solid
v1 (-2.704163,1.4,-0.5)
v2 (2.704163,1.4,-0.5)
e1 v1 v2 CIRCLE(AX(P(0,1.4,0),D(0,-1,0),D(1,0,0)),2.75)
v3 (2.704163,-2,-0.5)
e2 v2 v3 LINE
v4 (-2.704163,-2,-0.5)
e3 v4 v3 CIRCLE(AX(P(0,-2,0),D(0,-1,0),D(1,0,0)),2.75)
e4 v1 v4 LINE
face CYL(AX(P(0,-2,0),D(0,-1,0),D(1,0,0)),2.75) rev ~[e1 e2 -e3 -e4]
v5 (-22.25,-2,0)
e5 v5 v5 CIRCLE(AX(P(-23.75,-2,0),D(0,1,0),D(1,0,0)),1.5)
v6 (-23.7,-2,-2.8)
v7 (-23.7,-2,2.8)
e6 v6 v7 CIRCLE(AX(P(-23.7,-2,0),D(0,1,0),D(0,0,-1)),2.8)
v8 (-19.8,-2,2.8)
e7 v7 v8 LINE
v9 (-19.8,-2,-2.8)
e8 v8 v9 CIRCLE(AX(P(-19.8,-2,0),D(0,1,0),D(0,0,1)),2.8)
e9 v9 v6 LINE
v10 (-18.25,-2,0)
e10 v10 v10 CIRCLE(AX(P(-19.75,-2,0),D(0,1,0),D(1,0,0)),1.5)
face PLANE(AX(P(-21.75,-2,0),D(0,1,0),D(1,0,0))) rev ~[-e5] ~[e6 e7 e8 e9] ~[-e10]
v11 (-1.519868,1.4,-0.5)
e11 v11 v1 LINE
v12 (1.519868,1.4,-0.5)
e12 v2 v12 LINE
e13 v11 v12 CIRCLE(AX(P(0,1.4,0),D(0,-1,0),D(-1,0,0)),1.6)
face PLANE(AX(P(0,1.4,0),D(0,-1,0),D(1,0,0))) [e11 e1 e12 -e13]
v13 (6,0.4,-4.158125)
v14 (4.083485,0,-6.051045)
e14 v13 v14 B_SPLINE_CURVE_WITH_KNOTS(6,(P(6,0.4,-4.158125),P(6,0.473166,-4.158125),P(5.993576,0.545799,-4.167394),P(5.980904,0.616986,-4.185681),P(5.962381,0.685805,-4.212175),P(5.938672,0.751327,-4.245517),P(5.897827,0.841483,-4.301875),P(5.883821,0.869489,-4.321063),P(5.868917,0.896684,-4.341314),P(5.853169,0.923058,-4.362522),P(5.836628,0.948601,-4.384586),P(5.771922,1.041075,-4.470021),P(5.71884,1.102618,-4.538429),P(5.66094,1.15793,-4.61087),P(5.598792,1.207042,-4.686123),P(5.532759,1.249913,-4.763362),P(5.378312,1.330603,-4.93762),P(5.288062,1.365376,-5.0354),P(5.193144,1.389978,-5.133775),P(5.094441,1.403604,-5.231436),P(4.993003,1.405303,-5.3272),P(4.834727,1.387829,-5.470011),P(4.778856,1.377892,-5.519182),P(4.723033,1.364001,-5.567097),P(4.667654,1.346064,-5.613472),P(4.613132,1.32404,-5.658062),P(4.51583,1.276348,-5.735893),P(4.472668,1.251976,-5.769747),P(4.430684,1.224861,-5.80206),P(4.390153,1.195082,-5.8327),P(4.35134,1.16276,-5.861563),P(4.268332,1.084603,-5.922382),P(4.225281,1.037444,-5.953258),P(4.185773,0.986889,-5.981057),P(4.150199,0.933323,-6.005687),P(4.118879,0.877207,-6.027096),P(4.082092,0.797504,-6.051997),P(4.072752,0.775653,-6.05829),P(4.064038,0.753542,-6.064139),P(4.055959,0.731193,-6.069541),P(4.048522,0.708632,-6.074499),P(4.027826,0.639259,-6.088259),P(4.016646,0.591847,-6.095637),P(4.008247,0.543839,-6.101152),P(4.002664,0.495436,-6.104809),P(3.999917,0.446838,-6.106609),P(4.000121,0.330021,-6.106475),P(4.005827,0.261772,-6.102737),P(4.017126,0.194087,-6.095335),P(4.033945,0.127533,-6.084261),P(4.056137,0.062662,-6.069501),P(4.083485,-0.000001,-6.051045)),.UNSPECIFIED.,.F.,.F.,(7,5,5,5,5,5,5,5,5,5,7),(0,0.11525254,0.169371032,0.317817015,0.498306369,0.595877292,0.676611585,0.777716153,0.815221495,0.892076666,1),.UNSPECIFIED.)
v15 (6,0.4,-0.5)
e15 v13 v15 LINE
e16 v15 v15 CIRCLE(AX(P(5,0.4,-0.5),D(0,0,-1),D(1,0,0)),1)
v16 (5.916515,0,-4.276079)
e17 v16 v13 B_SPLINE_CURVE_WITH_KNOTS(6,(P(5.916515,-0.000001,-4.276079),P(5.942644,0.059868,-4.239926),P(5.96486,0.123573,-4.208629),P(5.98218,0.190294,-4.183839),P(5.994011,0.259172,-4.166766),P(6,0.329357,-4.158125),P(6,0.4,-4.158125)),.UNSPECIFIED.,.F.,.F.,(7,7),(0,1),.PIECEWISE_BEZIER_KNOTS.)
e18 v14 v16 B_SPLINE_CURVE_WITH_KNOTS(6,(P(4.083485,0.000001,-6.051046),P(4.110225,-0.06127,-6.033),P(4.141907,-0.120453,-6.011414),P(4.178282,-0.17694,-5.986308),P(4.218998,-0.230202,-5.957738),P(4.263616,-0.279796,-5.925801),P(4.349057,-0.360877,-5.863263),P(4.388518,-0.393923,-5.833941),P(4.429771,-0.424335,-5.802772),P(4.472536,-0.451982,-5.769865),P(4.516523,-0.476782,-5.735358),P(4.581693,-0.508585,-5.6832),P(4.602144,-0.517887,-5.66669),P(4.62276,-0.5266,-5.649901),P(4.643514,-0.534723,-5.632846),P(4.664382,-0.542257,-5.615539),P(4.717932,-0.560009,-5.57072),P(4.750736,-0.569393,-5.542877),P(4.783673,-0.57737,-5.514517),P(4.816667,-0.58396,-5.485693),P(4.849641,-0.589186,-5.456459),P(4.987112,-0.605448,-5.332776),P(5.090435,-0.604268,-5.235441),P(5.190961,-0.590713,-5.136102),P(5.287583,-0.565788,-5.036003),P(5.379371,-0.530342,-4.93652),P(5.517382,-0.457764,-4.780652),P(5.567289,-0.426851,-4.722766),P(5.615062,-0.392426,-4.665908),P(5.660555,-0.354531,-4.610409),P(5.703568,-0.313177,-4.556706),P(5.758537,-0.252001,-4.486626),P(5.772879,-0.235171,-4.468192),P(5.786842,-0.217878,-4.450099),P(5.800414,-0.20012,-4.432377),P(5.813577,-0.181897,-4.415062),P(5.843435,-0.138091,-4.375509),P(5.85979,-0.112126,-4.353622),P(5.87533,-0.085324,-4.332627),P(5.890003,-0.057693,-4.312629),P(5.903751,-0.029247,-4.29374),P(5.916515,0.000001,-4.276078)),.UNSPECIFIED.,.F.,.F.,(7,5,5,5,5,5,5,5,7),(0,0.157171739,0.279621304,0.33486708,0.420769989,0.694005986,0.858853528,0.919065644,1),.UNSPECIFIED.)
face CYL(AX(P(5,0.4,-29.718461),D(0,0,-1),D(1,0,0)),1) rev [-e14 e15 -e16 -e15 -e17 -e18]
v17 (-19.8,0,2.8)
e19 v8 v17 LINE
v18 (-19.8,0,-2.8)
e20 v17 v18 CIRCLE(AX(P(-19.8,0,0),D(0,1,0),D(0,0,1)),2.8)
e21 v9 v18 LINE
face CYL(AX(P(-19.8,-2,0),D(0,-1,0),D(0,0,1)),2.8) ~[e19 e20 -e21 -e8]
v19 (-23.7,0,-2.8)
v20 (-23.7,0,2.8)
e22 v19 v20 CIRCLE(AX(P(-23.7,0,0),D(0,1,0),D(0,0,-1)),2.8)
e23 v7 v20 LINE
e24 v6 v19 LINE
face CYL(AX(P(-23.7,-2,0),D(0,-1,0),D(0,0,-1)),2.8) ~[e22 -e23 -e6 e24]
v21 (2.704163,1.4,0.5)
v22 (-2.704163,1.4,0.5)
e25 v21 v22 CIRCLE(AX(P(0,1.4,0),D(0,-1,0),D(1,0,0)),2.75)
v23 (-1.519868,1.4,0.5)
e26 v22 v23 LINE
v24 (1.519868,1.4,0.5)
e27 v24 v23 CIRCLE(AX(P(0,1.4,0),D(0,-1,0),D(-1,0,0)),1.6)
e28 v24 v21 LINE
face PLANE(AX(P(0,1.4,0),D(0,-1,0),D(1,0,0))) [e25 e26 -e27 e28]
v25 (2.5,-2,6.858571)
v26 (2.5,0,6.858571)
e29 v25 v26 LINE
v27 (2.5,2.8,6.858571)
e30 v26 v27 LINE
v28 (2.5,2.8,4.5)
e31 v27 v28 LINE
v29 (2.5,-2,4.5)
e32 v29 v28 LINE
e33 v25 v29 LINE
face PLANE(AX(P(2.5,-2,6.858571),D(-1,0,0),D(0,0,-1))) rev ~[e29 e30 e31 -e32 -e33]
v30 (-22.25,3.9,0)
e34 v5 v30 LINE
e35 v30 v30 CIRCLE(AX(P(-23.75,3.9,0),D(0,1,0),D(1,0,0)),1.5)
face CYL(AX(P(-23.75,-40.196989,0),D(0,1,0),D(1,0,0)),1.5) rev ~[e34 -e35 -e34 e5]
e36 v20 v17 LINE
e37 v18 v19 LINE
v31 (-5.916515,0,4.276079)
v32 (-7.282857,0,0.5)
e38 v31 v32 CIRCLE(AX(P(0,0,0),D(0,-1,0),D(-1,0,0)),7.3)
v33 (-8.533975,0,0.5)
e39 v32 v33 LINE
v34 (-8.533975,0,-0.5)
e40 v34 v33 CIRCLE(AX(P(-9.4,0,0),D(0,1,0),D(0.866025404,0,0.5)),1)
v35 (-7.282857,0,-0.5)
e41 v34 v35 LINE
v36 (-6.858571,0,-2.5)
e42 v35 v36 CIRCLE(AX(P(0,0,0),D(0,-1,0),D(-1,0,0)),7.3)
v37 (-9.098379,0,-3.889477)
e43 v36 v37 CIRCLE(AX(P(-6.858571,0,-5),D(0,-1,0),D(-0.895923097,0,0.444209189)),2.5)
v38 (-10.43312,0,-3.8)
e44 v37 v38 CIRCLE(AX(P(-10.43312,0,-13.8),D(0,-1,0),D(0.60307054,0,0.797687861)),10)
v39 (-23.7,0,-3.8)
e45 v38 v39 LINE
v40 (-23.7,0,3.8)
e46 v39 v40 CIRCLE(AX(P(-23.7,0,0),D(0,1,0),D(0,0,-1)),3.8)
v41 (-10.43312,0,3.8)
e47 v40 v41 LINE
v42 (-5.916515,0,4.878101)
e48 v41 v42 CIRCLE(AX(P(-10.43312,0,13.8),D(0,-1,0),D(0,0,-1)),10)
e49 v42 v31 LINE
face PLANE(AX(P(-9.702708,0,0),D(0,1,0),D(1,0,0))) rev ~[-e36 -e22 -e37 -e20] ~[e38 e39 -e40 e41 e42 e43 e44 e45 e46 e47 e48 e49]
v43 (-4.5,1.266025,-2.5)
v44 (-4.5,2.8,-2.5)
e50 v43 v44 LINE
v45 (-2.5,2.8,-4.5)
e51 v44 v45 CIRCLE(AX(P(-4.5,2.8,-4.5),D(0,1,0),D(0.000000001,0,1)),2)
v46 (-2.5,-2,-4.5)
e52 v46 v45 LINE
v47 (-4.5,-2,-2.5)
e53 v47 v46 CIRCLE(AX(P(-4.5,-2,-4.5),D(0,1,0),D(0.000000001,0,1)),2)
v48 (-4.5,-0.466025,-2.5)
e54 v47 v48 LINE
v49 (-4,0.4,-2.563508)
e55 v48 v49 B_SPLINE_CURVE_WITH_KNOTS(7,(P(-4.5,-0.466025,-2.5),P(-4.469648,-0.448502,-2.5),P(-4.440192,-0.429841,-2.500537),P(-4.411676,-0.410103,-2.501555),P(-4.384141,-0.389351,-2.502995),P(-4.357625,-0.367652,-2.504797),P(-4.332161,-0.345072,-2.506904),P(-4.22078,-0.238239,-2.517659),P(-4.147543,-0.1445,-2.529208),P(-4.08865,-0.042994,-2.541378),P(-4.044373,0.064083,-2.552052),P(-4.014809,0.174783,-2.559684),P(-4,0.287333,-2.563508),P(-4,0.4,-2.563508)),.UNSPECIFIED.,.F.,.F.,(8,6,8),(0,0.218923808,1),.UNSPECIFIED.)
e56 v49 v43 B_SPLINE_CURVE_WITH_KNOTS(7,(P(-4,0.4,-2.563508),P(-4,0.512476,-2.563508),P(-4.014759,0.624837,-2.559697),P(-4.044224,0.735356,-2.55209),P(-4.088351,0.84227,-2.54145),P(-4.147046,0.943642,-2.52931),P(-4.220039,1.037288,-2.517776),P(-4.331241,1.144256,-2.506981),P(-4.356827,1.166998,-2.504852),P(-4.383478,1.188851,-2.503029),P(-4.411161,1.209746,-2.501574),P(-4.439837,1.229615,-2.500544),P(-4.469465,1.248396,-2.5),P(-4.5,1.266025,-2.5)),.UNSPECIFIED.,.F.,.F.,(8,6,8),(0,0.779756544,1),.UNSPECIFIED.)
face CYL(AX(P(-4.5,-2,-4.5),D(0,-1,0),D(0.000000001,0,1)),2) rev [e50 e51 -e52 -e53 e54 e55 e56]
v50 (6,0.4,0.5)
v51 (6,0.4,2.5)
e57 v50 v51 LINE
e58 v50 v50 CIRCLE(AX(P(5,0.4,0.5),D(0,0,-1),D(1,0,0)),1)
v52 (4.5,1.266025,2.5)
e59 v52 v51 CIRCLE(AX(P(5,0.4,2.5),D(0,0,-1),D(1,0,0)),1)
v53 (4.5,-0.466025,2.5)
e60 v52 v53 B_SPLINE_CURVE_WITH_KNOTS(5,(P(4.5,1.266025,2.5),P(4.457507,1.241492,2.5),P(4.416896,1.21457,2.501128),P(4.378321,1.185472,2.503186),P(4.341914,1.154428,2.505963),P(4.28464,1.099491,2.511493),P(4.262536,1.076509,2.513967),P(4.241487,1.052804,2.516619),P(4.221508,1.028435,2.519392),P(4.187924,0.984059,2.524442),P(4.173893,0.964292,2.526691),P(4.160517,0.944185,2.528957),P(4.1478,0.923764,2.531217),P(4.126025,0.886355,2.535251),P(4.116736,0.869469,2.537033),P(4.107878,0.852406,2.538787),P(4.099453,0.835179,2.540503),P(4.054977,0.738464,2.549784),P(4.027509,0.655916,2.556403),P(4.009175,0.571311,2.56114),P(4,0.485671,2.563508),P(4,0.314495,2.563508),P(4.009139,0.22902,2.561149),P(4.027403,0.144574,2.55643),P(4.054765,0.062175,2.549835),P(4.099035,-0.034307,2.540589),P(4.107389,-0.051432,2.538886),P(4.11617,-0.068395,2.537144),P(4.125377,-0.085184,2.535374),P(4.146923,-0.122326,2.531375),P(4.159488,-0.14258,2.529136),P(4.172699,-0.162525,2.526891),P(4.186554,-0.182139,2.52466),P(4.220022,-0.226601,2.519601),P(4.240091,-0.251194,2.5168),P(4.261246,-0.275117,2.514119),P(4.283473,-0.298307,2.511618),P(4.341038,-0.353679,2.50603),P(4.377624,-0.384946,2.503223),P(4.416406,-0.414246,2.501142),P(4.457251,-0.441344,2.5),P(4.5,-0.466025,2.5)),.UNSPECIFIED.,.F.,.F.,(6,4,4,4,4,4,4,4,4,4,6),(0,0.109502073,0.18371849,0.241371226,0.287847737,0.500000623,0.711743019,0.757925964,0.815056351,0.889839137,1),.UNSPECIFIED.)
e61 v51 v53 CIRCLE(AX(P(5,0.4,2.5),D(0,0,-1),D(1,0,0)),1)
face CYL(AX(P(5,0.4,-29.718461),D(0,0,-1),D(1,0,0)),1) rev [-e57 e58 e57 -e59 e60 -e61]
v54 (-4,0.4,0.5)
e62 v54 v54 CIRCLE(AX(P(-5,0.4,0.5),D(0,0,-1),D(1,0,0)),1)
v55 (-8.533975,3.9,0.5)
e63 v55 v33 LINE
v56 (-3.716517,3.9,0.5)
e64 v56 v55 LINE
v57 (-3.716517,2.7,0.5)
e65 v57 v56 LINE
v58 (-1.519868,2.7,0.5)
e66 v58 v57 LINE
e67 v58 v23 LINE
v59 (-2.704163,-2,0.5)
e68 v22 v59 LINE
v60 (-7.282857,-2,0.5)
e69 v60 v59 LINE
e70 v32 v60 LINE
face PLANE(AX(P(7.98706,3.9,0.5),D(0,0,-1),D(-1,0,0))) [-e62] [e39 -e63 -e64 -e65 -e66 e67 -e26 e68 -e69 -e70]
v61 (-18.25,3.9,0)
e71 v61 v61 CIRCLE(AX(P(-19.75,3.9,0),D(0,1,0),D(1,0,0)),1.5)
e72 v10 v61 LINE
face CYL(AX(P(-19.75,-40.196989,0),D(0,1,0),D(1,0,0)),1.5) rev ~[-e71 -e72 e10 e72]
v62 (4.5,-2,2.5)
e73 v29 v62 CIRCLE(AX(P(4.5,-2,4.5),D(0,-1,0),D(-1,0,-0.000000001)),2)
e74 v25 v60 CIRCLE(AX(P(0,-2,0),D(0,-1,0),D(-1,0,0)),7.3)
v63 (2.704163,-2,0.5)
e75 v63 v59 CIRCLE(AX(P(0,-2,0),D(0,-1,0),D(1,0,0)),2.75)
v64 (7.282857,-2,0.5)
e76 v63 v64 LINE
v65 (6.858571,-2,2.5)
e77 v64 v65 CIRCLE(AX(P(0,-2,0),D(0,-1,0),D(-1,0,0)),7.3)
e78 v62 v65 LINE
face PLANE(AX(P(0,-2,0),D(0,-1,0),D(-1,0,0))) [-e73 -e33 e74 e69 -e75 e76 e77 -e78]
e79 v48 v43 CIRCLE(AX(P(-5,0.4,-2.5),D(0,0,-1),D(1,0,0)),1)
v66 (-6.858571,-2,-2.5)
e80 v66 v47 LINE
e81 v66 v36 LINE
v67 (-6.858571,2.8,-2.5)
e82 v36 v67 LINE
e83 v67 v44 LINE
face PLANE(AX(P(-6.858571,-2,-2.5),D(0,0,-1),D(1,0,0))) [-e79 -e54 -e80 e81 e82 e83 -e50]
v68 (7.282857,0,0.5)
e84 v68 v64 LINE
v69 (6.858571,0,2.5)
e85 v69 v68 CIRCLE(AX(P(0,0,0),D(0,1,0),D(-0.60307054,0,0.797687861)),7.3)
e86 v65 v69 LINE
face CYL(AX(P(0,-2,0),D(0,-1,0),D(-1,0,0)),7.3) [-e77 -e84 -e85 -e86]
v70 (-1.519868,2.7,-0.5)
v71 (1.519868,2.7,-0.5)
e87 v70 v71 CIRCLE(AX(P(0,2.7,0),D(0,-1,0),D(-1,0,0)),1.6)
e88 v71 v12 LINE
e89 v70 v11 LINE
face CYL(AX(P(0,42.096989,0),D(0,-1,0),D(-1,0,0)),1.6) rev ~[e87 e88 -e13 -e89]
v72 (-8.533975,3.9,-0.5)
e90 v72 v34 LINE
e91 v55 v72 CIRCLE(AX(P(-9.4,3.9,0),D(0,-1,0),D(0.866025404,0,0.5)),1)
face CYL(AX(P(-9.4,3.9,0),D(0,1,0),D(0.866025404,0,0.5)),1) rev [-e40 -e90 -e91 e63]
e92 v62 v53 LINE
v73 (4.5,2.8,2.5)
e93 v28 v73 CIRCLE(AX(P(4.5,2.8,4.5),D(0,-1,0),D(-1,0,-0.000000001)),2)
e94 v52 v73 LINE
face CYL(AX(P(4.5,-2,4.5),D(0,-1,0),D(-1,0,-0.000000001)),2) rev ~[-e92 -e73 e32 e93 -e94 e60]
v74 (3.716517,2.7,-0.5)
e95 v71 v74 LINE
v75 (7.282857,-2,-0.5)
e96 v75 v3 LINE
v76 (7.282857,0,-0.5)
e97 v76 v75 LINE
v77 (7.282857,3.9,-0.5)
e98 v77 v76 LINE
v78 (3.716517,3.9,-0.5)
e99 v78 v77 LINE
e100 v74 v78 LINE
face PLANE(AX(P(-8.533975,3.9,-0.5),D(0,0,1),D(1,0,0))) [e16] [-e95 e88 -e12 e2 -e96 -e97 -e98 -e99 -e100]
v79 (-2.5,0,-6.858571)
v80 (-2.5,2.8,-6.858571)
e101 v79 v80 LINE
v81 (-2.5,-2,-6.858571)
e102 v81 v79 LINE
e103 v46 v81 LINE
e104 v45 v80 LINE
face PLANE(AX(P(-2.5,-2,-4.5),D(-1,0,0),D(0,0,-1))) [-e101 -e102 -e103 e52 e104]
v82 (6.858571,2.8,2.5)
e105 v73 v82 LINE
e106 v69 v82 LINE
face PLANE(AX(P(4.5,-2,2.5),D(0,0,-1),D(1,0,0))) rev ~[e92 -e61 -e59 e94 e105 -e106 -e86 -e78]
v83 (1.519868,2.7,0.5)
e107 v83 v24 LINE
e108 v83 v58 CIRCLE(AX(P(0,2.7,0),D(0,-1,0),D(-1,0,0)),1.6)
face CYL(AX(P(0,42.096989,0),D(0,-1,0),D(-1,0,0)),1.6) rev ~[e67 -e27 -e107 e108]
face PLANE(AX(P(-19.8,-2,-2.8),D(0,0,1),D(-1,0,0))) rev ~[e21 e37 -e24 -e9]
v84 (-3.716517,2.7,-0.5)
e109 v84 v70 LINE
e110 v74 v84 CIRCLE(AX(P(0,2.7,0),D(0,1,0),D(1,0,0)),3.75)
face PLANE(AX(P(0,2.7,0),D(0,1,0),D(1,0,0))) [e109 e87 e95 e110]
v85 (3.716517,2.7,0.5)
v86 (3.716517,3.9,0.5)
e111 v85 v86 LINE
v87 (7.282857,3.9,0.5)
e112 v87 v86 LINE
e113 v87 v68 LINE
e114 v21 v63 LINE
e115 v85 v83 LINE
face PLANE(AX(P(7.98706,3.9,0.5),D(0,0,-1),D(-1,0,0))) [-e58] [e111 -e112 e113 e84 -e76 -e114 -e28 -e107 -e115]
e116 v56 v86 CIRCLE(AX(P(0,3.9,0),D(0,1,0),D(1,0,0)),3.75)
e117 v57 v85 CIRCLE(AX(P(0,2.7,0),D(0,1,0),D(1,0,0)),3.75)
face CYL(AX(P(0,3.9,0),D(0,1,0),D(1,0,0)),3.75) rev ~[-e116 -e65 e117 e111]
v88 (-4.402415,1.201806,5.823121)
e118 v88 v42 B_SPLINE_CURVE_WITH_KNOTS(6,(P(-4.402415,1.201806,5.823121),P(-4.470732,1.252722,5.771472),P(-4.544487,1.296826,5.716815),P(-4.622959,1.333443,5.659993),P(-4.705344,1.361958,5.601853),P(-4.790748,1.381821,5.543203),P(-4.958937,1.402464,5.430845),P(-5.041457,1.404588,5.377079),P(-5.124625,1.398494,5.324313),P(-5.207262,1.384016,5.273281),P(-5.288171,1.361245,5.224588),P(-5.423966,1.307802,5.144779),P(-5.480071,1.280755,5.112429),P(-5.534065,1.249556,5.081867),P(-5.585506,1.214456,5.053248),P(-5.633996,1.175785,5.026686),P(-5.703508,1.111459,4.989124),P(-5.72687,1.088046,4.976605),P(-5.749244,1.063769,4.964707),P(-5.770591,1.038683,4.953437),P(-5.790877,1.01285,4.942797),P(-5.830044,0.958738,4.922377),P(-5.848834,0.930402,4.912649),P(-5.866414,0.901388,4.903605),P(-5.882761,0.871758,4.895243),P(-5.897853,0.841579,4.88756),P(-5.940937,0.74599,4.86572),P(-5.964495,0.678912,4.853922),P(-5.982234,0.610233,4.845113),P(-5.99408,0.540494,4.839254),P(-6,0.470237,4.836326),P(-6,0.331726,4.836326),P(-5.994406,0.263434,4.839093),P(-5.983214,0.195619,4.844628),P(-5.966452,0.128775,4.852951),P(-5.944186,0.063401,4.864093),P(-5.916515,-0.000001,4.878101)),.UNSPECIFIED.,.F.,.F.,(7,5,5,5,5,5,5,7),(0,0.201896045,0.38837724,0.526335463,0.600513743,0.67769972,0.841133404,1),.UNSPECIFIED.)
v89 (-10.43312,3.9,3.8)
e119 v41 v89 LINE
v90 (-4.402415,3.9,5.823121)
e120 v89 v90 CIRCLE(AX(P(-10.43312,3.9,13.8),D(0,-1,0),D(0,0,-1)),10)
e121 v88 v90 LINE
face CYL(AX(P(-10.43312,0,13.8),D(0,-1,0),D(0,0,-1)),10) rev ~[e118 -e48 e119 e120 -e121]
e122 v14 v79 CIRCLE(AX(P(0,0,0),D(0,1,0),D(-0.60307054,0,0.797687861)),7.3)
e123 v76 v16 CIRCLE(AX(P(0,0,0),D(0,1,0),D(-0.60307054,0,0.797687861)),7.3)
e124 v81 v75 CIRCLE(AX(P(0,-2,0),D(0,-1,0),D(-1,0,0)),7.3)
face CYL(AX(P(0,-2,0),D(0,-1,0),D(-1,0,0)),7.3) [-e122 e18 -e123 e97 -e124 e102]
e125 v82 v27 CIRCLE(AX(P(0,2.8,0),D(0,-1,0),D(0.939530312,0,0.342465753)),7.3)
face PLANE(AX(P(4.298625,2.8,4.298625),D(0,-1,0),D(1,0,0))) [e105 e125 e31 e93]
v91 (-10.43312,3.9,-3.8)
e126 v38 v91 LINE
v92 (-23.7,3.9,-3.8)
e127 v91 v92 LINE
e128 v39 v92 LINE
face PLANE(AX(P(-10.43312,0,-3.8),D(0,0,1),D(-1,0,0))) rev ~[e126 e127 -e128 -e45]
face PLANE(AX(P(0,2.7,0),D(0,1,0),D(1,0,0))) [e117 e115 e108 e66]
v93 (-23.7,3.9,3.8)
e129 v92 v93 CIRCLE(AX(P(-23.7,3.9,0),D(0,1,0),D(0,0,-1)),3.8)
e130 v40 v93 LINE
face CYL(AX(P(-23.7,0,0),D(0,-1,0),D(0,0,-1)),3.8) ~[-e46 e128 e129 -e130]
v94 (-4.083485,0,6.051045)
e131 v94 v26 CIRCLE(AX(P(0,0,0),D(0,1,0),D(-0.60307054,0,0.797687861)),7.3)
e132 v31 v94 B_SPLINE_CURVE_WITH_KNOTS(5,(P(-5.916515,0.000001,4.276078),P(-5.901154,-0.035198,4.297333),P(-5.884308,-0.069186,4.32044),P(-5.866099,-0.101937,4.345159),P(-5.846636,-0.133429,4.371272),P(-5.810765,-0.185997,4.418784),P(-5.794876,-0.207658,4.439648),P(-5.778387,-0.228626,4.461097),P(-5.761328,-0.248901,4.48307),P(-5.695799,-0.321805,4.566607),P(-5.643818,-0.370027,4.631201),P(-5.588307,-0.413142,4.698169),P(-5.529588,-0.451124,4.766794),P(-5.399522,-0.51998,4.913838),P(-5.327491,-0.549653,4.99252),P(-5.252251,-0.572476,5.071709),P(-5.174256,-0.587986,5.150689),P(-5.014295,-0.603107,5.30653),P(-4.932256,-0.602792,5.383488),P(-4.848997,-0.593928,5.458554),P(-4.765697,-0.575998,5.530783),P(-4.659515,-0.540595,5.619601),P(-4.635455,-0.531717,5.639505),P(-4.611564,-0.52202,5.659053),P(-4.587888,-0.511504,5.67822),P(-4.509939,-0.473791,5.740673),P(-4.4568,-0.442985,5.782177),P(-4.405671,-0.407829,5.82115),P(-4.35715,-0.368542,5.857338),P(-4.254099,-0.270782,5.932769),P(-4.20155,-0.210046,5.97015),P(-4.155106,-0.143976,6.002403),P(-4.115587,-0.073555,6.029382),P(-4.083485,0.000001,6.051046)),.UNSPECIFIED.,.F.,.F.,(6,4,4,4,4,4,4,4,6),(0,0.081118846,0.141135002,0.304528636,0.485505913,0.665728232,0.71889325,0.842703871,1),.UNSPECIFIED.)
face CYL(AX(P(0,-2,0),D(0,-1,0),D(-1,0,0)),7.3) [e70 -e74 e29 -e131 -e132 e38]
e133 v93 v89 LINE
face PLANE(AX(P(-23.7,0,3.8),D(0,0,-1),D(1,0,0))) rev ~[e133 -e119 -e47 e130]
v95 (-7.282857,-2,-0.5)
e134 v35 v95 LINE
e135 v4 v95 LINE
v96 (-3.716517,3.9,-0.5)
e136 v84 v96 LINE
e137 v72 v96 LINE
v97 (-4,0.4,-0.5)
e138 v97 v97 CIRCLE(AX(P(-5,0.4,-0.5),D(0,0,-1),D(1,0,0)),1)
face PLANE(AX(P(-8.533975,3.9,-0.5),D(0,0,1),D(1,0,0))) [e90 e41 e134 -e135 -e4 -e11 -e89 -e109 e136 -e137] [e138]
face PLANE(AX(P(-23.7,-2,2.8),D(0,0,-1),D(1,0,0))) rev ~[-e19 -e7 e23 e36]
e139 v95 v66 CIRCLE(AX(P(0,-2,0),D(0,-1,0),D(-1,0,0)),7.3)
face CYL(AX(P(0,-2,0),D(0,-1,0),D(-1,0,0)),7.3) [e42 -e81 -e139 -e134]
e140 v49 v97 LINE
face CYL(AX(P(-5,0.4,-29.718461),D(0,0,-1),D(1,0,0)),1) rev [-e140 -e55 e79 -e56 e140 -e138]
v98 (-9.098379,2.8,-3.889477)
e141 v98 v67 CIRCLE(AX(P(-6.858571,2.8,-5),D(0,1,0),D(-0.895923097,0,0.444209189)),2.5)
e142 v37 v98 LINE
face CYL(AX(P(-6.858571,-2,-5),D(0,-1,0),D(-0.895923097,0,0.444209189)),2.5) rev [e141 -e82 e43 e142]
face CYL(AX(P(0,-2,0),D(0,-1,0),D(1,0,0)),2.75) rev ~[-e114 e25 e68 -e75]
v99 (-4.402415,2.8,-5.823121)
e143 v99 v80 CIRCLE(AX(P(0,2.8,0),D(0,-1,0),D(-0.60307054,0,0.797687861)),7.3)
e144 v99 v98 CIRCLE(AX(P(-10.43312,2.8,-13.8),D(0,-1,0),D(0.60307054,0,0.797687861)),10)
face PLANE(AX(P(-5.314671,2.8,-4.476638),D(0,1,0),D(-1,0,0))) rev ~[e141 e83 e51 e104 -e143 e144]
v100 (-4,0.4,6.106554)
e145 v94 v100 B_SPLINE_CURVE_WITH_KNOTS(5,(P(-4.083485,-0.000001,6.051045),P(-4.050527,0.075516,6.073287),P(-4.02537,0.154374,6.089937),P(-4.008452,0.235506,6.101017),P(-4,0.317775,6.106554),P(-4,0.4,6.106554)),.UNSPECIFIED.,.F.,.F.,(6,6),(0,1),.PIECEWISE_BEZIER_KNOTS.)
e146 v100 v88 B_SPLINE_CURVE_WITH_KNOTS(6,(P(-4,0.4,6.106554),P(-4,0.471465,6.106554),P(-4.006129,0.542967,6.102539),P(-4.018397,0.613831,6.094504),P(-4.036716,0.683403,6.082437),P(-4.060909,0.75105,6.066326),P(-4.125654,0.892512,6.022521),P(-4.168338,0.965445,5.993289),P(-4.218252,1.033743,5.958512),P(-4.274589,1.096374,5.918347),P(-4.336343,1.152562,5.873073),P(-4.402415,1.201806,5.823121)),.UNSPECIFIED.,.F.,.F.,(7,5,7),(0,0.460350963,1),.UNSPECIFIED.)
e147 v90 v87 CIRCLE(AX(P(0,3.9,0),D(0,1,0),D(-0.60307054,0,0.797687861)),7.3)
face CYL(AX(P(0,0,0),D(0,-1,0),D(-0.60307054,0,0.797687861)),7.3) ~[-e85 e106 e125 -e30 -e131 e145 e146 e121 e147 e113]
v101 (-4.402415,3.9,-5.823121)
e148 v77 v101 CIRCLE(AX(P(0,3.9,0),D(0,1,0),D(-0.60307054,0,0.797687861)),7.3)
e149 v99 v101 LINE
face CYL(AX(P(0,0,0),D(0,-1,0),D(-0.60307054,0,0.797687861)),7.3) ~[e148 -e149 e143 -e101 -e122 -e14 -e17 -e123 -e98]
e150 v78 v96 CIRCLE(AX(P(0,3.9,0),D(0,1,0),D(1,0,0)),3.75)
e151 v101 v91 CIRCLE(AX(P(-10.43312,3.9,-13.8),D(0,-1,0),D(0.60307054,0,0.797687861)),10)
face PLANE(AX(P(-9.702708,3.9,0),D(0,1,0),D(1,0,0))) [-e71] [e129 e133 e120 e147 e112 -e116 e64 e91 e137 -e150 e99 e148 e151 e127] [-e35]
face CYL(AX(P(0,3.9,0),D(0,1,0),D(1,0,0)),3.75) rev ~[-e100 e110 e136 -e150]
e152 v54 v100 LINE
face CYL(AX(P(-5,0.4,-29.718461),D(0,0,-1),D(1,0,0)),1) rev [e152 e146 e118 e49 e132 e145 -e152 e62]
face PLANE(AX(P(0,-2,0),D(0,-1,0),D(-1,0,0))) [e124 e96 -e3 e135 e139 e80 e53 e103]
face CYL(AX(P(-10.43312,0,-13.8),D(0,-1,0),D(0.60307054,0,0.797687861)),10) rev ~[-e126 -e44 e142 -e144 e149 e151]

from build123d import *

# Parameters (mm, degrees)
BOSS_EXTRU_1_DEPTH            = 3.9
BOSS_EXTRU_2_START            = 2
ESQUISSE2_R                   = 7.3
BOSS_EXTRU_2_DEPTH            = 2
D_GAGEMENT_M31_D              = 3.2
DIAM_TRE_DU_PER_AGE_3_0_3_1_D = 3
ESQUISSE6_R                   = 2.75
ENL_V_MAT_EXTRU_1_DEPTH       = 3.4
ESQUISSE9_R                   = 3.75
ENL_V_MAT_EXTRU_2_DEPTH       = 1.2
ENL_V_MAT_EXTRU_3_DEPTH       = 30.057701217
ENL_V_MAT_EXTRU_4_DEPTH       = 4.8
ENL_V_MAT_EXTRU_5_DEPTH       = 29.718460962
ENL_V_MAT_EXTRU_5_DEPTH_BACK  = 29.718460962
ESQUISSE14_R                  = 1


with BuildPart() as part:
    # Esquisse1 → Boss.-Extru.1 (new body)
    with BuildSketch(Plane(origin=(0, 0, 0), x_dir=(1, 0, 0), z_dir=(0, 1, 0))):
        with BuildLine():
            Line((-10.433120339, 3.8), (-23.7, 3.8))
            ThreePointArc((-23.7, 3.8), (-27.5, 0), (-23.7, -3.8))
            Line((-23.7, -3.8), (-10.433120339, -3.8))
            ThreePointArc((-10.433120339, -3.8), (-7.252616143, -4.319261998), (-4.402414941, -5.823121387))
            ThreePointArc((-4.402414941, -5.823121387), (7.3, 0), (-4.402414941, 5.823121387))
            ThreePointArc((-4.402414941, 5.823121387), (-7.252616143, 4.319261998), (-10.433120339, 3.8))
        make_face()
    extrude(amount=BOSS_EXTRU_1_DEPTH)

    # Esquisse2 → Boss.-Extru.2 (add)
    with BuildSketch(Plane(origin=(0, 0, 0), x_dir=(-1, 0, 0), z_dir=(0, -1, 0)).offset(BOSS_EXTRU_2_START)):
        Circle(ESQUISSE2_R)
        with BuildLine():
            Line((23.7, -2.8), (19.8, -2.8))
            ThreePointArc((19.8, -2.8), (17, 0), (19.8, 2.8))
            Line((19.8, 2.8), (23.7, 2.8))
            ThreePointArc((23.7, 2.8), (26.5, 0), (23.7, -2.8))
        make_face()
    extrude(amount=-BOSS_EXTRU_2_DEPTH)

    # Dégagement M31 (through all)
    with Locations(Plane(origin=(0, 3.9, 0), x_dir=(1, 0, 0), z_dir=(0, 1, 0))):
        with Locations((0, 0)):
            Hole(D_GAGEMENT_M31_D / 2)

    # Diamètre du perçage Ø3.0 (3)1 (through all)
    with Locations(Plane(origin=(0, -2, 0), x_dir=(-1, 0, 0), z_dir=(0, -1, 0))):
        with Locations((19.75, 0), (23.75, 0)):
            Hole(DIAM_TRE_DU_PER_AGE_3_0_3_1_D / 2)

    # Esquisse6 → Enlèv. mat.-Extru.1 (cut)
    with BuildSketch(Plane.XZ.offset(2)):
        Circle(ESQUISSE6_R)
    extrude(amount=-ENL_V_MAT_EXTRU_1_DEPTH, mode=Mode.SUBTRACT)

    # Esquisse9 → Enlèv. mat.-Extru.2 (cut)
    with BuildSketch(Plane(origin=(0, 3.9, 0), x_dir=(1, 0, 0), z_dir=(0, 1, 0))):
        Circle(ESQUISSE9_R)
    extrude(amount=-ENL_V_MAT_EXTRU_2_DEPTH, mode=Mode.SUBTRACT)

    # Esquisse10 → Enlèv. mat.-Extru.3 (cut, through all)
    with BuildSketch(Plane(origin=(0, 3.9, 0), x_dir=(1, 0, 0), z_dir=(0, 1, 0))):
        with BuildLine():
            Line((-8.533974596, 0.5), (7.987060463, 0.5))
            Line((7.987060463, 0.5), (7.987060463, -0.5))
            Line((7.987060463, -0.5), (-8.533974596, -0.5))
            ThreePointArc((-8.533974596, -0.5), (-10.4, 0), (-8.533974596, 0.5))
        make_face()
    extrude(amount=-ENL_V_MAT_EXTRU_3_DEPTH, mode=Mode.SUBTRACT)

    # Esquisse11 → Enlèv. mat.-Extru.4 (cut)
    with BuildSketch(Plane.XZ.offset(2)):
        with BuildLine():
            Line((2.5, 6.85857128), (2.5, 4.5))
            ThreePointArc((2.5, 4.5), (3.085786438, 3.085786438), (4.5, 2.5))
            Line((4.5, 2.5), (6.85857128, 2.5))
            ThreePointArc((6.85857128, 2.5), (5.161879503, 5.161879503), (2.5, 6.85857128))
        make_face()
        with BuildLine():
            Line((-2.5, -4.5), (-2.5, -6.85857128))
            Line((-2.5, -6.85857128), (-4.5, -6.85857128))
            Line((-4.5, -6.85857128), (-9.098379022, -3.889477026))
            ThreePointArc((-9.098379022, -3.889477026), (-8.17646592, -2.875581558), (-6.85857128, -2.5))
            Line((-6.85857128, -2.5), (-4.5, -2.5))
            ThreePointArc((-4.5, -2.5), (-3.085786438, -3.085786438), (-2.5, -4.5))
        make_face()
    extrude(amount=-ENL_V_MAT_EXTRU_4_DEPTH, mode=Mode.SUBTRACT)

    # Esquisse14 → Enlèv. mat.-Extru.5 (cut, two sides: drawn at the far end of the back side and taken through both)
    with BuildSketch(Plane.XY.offset(-ENL_V_MAT_EXTRU_5_DEPTH_BACK)):
        with Locations((5, 0.4)):
            Circle(ESQUISSE14_R)
        with Locations((-5, 0.4)):
            Circle(ESQUISSE14_R)
    extrude(amount=ENL_V_MAT_EXTRU_5_DEPTH + ENL_V_MAT_EXTRU_5_DEPTH_BACK, mode=Mode.SUBTRACT)


solid = part.part
